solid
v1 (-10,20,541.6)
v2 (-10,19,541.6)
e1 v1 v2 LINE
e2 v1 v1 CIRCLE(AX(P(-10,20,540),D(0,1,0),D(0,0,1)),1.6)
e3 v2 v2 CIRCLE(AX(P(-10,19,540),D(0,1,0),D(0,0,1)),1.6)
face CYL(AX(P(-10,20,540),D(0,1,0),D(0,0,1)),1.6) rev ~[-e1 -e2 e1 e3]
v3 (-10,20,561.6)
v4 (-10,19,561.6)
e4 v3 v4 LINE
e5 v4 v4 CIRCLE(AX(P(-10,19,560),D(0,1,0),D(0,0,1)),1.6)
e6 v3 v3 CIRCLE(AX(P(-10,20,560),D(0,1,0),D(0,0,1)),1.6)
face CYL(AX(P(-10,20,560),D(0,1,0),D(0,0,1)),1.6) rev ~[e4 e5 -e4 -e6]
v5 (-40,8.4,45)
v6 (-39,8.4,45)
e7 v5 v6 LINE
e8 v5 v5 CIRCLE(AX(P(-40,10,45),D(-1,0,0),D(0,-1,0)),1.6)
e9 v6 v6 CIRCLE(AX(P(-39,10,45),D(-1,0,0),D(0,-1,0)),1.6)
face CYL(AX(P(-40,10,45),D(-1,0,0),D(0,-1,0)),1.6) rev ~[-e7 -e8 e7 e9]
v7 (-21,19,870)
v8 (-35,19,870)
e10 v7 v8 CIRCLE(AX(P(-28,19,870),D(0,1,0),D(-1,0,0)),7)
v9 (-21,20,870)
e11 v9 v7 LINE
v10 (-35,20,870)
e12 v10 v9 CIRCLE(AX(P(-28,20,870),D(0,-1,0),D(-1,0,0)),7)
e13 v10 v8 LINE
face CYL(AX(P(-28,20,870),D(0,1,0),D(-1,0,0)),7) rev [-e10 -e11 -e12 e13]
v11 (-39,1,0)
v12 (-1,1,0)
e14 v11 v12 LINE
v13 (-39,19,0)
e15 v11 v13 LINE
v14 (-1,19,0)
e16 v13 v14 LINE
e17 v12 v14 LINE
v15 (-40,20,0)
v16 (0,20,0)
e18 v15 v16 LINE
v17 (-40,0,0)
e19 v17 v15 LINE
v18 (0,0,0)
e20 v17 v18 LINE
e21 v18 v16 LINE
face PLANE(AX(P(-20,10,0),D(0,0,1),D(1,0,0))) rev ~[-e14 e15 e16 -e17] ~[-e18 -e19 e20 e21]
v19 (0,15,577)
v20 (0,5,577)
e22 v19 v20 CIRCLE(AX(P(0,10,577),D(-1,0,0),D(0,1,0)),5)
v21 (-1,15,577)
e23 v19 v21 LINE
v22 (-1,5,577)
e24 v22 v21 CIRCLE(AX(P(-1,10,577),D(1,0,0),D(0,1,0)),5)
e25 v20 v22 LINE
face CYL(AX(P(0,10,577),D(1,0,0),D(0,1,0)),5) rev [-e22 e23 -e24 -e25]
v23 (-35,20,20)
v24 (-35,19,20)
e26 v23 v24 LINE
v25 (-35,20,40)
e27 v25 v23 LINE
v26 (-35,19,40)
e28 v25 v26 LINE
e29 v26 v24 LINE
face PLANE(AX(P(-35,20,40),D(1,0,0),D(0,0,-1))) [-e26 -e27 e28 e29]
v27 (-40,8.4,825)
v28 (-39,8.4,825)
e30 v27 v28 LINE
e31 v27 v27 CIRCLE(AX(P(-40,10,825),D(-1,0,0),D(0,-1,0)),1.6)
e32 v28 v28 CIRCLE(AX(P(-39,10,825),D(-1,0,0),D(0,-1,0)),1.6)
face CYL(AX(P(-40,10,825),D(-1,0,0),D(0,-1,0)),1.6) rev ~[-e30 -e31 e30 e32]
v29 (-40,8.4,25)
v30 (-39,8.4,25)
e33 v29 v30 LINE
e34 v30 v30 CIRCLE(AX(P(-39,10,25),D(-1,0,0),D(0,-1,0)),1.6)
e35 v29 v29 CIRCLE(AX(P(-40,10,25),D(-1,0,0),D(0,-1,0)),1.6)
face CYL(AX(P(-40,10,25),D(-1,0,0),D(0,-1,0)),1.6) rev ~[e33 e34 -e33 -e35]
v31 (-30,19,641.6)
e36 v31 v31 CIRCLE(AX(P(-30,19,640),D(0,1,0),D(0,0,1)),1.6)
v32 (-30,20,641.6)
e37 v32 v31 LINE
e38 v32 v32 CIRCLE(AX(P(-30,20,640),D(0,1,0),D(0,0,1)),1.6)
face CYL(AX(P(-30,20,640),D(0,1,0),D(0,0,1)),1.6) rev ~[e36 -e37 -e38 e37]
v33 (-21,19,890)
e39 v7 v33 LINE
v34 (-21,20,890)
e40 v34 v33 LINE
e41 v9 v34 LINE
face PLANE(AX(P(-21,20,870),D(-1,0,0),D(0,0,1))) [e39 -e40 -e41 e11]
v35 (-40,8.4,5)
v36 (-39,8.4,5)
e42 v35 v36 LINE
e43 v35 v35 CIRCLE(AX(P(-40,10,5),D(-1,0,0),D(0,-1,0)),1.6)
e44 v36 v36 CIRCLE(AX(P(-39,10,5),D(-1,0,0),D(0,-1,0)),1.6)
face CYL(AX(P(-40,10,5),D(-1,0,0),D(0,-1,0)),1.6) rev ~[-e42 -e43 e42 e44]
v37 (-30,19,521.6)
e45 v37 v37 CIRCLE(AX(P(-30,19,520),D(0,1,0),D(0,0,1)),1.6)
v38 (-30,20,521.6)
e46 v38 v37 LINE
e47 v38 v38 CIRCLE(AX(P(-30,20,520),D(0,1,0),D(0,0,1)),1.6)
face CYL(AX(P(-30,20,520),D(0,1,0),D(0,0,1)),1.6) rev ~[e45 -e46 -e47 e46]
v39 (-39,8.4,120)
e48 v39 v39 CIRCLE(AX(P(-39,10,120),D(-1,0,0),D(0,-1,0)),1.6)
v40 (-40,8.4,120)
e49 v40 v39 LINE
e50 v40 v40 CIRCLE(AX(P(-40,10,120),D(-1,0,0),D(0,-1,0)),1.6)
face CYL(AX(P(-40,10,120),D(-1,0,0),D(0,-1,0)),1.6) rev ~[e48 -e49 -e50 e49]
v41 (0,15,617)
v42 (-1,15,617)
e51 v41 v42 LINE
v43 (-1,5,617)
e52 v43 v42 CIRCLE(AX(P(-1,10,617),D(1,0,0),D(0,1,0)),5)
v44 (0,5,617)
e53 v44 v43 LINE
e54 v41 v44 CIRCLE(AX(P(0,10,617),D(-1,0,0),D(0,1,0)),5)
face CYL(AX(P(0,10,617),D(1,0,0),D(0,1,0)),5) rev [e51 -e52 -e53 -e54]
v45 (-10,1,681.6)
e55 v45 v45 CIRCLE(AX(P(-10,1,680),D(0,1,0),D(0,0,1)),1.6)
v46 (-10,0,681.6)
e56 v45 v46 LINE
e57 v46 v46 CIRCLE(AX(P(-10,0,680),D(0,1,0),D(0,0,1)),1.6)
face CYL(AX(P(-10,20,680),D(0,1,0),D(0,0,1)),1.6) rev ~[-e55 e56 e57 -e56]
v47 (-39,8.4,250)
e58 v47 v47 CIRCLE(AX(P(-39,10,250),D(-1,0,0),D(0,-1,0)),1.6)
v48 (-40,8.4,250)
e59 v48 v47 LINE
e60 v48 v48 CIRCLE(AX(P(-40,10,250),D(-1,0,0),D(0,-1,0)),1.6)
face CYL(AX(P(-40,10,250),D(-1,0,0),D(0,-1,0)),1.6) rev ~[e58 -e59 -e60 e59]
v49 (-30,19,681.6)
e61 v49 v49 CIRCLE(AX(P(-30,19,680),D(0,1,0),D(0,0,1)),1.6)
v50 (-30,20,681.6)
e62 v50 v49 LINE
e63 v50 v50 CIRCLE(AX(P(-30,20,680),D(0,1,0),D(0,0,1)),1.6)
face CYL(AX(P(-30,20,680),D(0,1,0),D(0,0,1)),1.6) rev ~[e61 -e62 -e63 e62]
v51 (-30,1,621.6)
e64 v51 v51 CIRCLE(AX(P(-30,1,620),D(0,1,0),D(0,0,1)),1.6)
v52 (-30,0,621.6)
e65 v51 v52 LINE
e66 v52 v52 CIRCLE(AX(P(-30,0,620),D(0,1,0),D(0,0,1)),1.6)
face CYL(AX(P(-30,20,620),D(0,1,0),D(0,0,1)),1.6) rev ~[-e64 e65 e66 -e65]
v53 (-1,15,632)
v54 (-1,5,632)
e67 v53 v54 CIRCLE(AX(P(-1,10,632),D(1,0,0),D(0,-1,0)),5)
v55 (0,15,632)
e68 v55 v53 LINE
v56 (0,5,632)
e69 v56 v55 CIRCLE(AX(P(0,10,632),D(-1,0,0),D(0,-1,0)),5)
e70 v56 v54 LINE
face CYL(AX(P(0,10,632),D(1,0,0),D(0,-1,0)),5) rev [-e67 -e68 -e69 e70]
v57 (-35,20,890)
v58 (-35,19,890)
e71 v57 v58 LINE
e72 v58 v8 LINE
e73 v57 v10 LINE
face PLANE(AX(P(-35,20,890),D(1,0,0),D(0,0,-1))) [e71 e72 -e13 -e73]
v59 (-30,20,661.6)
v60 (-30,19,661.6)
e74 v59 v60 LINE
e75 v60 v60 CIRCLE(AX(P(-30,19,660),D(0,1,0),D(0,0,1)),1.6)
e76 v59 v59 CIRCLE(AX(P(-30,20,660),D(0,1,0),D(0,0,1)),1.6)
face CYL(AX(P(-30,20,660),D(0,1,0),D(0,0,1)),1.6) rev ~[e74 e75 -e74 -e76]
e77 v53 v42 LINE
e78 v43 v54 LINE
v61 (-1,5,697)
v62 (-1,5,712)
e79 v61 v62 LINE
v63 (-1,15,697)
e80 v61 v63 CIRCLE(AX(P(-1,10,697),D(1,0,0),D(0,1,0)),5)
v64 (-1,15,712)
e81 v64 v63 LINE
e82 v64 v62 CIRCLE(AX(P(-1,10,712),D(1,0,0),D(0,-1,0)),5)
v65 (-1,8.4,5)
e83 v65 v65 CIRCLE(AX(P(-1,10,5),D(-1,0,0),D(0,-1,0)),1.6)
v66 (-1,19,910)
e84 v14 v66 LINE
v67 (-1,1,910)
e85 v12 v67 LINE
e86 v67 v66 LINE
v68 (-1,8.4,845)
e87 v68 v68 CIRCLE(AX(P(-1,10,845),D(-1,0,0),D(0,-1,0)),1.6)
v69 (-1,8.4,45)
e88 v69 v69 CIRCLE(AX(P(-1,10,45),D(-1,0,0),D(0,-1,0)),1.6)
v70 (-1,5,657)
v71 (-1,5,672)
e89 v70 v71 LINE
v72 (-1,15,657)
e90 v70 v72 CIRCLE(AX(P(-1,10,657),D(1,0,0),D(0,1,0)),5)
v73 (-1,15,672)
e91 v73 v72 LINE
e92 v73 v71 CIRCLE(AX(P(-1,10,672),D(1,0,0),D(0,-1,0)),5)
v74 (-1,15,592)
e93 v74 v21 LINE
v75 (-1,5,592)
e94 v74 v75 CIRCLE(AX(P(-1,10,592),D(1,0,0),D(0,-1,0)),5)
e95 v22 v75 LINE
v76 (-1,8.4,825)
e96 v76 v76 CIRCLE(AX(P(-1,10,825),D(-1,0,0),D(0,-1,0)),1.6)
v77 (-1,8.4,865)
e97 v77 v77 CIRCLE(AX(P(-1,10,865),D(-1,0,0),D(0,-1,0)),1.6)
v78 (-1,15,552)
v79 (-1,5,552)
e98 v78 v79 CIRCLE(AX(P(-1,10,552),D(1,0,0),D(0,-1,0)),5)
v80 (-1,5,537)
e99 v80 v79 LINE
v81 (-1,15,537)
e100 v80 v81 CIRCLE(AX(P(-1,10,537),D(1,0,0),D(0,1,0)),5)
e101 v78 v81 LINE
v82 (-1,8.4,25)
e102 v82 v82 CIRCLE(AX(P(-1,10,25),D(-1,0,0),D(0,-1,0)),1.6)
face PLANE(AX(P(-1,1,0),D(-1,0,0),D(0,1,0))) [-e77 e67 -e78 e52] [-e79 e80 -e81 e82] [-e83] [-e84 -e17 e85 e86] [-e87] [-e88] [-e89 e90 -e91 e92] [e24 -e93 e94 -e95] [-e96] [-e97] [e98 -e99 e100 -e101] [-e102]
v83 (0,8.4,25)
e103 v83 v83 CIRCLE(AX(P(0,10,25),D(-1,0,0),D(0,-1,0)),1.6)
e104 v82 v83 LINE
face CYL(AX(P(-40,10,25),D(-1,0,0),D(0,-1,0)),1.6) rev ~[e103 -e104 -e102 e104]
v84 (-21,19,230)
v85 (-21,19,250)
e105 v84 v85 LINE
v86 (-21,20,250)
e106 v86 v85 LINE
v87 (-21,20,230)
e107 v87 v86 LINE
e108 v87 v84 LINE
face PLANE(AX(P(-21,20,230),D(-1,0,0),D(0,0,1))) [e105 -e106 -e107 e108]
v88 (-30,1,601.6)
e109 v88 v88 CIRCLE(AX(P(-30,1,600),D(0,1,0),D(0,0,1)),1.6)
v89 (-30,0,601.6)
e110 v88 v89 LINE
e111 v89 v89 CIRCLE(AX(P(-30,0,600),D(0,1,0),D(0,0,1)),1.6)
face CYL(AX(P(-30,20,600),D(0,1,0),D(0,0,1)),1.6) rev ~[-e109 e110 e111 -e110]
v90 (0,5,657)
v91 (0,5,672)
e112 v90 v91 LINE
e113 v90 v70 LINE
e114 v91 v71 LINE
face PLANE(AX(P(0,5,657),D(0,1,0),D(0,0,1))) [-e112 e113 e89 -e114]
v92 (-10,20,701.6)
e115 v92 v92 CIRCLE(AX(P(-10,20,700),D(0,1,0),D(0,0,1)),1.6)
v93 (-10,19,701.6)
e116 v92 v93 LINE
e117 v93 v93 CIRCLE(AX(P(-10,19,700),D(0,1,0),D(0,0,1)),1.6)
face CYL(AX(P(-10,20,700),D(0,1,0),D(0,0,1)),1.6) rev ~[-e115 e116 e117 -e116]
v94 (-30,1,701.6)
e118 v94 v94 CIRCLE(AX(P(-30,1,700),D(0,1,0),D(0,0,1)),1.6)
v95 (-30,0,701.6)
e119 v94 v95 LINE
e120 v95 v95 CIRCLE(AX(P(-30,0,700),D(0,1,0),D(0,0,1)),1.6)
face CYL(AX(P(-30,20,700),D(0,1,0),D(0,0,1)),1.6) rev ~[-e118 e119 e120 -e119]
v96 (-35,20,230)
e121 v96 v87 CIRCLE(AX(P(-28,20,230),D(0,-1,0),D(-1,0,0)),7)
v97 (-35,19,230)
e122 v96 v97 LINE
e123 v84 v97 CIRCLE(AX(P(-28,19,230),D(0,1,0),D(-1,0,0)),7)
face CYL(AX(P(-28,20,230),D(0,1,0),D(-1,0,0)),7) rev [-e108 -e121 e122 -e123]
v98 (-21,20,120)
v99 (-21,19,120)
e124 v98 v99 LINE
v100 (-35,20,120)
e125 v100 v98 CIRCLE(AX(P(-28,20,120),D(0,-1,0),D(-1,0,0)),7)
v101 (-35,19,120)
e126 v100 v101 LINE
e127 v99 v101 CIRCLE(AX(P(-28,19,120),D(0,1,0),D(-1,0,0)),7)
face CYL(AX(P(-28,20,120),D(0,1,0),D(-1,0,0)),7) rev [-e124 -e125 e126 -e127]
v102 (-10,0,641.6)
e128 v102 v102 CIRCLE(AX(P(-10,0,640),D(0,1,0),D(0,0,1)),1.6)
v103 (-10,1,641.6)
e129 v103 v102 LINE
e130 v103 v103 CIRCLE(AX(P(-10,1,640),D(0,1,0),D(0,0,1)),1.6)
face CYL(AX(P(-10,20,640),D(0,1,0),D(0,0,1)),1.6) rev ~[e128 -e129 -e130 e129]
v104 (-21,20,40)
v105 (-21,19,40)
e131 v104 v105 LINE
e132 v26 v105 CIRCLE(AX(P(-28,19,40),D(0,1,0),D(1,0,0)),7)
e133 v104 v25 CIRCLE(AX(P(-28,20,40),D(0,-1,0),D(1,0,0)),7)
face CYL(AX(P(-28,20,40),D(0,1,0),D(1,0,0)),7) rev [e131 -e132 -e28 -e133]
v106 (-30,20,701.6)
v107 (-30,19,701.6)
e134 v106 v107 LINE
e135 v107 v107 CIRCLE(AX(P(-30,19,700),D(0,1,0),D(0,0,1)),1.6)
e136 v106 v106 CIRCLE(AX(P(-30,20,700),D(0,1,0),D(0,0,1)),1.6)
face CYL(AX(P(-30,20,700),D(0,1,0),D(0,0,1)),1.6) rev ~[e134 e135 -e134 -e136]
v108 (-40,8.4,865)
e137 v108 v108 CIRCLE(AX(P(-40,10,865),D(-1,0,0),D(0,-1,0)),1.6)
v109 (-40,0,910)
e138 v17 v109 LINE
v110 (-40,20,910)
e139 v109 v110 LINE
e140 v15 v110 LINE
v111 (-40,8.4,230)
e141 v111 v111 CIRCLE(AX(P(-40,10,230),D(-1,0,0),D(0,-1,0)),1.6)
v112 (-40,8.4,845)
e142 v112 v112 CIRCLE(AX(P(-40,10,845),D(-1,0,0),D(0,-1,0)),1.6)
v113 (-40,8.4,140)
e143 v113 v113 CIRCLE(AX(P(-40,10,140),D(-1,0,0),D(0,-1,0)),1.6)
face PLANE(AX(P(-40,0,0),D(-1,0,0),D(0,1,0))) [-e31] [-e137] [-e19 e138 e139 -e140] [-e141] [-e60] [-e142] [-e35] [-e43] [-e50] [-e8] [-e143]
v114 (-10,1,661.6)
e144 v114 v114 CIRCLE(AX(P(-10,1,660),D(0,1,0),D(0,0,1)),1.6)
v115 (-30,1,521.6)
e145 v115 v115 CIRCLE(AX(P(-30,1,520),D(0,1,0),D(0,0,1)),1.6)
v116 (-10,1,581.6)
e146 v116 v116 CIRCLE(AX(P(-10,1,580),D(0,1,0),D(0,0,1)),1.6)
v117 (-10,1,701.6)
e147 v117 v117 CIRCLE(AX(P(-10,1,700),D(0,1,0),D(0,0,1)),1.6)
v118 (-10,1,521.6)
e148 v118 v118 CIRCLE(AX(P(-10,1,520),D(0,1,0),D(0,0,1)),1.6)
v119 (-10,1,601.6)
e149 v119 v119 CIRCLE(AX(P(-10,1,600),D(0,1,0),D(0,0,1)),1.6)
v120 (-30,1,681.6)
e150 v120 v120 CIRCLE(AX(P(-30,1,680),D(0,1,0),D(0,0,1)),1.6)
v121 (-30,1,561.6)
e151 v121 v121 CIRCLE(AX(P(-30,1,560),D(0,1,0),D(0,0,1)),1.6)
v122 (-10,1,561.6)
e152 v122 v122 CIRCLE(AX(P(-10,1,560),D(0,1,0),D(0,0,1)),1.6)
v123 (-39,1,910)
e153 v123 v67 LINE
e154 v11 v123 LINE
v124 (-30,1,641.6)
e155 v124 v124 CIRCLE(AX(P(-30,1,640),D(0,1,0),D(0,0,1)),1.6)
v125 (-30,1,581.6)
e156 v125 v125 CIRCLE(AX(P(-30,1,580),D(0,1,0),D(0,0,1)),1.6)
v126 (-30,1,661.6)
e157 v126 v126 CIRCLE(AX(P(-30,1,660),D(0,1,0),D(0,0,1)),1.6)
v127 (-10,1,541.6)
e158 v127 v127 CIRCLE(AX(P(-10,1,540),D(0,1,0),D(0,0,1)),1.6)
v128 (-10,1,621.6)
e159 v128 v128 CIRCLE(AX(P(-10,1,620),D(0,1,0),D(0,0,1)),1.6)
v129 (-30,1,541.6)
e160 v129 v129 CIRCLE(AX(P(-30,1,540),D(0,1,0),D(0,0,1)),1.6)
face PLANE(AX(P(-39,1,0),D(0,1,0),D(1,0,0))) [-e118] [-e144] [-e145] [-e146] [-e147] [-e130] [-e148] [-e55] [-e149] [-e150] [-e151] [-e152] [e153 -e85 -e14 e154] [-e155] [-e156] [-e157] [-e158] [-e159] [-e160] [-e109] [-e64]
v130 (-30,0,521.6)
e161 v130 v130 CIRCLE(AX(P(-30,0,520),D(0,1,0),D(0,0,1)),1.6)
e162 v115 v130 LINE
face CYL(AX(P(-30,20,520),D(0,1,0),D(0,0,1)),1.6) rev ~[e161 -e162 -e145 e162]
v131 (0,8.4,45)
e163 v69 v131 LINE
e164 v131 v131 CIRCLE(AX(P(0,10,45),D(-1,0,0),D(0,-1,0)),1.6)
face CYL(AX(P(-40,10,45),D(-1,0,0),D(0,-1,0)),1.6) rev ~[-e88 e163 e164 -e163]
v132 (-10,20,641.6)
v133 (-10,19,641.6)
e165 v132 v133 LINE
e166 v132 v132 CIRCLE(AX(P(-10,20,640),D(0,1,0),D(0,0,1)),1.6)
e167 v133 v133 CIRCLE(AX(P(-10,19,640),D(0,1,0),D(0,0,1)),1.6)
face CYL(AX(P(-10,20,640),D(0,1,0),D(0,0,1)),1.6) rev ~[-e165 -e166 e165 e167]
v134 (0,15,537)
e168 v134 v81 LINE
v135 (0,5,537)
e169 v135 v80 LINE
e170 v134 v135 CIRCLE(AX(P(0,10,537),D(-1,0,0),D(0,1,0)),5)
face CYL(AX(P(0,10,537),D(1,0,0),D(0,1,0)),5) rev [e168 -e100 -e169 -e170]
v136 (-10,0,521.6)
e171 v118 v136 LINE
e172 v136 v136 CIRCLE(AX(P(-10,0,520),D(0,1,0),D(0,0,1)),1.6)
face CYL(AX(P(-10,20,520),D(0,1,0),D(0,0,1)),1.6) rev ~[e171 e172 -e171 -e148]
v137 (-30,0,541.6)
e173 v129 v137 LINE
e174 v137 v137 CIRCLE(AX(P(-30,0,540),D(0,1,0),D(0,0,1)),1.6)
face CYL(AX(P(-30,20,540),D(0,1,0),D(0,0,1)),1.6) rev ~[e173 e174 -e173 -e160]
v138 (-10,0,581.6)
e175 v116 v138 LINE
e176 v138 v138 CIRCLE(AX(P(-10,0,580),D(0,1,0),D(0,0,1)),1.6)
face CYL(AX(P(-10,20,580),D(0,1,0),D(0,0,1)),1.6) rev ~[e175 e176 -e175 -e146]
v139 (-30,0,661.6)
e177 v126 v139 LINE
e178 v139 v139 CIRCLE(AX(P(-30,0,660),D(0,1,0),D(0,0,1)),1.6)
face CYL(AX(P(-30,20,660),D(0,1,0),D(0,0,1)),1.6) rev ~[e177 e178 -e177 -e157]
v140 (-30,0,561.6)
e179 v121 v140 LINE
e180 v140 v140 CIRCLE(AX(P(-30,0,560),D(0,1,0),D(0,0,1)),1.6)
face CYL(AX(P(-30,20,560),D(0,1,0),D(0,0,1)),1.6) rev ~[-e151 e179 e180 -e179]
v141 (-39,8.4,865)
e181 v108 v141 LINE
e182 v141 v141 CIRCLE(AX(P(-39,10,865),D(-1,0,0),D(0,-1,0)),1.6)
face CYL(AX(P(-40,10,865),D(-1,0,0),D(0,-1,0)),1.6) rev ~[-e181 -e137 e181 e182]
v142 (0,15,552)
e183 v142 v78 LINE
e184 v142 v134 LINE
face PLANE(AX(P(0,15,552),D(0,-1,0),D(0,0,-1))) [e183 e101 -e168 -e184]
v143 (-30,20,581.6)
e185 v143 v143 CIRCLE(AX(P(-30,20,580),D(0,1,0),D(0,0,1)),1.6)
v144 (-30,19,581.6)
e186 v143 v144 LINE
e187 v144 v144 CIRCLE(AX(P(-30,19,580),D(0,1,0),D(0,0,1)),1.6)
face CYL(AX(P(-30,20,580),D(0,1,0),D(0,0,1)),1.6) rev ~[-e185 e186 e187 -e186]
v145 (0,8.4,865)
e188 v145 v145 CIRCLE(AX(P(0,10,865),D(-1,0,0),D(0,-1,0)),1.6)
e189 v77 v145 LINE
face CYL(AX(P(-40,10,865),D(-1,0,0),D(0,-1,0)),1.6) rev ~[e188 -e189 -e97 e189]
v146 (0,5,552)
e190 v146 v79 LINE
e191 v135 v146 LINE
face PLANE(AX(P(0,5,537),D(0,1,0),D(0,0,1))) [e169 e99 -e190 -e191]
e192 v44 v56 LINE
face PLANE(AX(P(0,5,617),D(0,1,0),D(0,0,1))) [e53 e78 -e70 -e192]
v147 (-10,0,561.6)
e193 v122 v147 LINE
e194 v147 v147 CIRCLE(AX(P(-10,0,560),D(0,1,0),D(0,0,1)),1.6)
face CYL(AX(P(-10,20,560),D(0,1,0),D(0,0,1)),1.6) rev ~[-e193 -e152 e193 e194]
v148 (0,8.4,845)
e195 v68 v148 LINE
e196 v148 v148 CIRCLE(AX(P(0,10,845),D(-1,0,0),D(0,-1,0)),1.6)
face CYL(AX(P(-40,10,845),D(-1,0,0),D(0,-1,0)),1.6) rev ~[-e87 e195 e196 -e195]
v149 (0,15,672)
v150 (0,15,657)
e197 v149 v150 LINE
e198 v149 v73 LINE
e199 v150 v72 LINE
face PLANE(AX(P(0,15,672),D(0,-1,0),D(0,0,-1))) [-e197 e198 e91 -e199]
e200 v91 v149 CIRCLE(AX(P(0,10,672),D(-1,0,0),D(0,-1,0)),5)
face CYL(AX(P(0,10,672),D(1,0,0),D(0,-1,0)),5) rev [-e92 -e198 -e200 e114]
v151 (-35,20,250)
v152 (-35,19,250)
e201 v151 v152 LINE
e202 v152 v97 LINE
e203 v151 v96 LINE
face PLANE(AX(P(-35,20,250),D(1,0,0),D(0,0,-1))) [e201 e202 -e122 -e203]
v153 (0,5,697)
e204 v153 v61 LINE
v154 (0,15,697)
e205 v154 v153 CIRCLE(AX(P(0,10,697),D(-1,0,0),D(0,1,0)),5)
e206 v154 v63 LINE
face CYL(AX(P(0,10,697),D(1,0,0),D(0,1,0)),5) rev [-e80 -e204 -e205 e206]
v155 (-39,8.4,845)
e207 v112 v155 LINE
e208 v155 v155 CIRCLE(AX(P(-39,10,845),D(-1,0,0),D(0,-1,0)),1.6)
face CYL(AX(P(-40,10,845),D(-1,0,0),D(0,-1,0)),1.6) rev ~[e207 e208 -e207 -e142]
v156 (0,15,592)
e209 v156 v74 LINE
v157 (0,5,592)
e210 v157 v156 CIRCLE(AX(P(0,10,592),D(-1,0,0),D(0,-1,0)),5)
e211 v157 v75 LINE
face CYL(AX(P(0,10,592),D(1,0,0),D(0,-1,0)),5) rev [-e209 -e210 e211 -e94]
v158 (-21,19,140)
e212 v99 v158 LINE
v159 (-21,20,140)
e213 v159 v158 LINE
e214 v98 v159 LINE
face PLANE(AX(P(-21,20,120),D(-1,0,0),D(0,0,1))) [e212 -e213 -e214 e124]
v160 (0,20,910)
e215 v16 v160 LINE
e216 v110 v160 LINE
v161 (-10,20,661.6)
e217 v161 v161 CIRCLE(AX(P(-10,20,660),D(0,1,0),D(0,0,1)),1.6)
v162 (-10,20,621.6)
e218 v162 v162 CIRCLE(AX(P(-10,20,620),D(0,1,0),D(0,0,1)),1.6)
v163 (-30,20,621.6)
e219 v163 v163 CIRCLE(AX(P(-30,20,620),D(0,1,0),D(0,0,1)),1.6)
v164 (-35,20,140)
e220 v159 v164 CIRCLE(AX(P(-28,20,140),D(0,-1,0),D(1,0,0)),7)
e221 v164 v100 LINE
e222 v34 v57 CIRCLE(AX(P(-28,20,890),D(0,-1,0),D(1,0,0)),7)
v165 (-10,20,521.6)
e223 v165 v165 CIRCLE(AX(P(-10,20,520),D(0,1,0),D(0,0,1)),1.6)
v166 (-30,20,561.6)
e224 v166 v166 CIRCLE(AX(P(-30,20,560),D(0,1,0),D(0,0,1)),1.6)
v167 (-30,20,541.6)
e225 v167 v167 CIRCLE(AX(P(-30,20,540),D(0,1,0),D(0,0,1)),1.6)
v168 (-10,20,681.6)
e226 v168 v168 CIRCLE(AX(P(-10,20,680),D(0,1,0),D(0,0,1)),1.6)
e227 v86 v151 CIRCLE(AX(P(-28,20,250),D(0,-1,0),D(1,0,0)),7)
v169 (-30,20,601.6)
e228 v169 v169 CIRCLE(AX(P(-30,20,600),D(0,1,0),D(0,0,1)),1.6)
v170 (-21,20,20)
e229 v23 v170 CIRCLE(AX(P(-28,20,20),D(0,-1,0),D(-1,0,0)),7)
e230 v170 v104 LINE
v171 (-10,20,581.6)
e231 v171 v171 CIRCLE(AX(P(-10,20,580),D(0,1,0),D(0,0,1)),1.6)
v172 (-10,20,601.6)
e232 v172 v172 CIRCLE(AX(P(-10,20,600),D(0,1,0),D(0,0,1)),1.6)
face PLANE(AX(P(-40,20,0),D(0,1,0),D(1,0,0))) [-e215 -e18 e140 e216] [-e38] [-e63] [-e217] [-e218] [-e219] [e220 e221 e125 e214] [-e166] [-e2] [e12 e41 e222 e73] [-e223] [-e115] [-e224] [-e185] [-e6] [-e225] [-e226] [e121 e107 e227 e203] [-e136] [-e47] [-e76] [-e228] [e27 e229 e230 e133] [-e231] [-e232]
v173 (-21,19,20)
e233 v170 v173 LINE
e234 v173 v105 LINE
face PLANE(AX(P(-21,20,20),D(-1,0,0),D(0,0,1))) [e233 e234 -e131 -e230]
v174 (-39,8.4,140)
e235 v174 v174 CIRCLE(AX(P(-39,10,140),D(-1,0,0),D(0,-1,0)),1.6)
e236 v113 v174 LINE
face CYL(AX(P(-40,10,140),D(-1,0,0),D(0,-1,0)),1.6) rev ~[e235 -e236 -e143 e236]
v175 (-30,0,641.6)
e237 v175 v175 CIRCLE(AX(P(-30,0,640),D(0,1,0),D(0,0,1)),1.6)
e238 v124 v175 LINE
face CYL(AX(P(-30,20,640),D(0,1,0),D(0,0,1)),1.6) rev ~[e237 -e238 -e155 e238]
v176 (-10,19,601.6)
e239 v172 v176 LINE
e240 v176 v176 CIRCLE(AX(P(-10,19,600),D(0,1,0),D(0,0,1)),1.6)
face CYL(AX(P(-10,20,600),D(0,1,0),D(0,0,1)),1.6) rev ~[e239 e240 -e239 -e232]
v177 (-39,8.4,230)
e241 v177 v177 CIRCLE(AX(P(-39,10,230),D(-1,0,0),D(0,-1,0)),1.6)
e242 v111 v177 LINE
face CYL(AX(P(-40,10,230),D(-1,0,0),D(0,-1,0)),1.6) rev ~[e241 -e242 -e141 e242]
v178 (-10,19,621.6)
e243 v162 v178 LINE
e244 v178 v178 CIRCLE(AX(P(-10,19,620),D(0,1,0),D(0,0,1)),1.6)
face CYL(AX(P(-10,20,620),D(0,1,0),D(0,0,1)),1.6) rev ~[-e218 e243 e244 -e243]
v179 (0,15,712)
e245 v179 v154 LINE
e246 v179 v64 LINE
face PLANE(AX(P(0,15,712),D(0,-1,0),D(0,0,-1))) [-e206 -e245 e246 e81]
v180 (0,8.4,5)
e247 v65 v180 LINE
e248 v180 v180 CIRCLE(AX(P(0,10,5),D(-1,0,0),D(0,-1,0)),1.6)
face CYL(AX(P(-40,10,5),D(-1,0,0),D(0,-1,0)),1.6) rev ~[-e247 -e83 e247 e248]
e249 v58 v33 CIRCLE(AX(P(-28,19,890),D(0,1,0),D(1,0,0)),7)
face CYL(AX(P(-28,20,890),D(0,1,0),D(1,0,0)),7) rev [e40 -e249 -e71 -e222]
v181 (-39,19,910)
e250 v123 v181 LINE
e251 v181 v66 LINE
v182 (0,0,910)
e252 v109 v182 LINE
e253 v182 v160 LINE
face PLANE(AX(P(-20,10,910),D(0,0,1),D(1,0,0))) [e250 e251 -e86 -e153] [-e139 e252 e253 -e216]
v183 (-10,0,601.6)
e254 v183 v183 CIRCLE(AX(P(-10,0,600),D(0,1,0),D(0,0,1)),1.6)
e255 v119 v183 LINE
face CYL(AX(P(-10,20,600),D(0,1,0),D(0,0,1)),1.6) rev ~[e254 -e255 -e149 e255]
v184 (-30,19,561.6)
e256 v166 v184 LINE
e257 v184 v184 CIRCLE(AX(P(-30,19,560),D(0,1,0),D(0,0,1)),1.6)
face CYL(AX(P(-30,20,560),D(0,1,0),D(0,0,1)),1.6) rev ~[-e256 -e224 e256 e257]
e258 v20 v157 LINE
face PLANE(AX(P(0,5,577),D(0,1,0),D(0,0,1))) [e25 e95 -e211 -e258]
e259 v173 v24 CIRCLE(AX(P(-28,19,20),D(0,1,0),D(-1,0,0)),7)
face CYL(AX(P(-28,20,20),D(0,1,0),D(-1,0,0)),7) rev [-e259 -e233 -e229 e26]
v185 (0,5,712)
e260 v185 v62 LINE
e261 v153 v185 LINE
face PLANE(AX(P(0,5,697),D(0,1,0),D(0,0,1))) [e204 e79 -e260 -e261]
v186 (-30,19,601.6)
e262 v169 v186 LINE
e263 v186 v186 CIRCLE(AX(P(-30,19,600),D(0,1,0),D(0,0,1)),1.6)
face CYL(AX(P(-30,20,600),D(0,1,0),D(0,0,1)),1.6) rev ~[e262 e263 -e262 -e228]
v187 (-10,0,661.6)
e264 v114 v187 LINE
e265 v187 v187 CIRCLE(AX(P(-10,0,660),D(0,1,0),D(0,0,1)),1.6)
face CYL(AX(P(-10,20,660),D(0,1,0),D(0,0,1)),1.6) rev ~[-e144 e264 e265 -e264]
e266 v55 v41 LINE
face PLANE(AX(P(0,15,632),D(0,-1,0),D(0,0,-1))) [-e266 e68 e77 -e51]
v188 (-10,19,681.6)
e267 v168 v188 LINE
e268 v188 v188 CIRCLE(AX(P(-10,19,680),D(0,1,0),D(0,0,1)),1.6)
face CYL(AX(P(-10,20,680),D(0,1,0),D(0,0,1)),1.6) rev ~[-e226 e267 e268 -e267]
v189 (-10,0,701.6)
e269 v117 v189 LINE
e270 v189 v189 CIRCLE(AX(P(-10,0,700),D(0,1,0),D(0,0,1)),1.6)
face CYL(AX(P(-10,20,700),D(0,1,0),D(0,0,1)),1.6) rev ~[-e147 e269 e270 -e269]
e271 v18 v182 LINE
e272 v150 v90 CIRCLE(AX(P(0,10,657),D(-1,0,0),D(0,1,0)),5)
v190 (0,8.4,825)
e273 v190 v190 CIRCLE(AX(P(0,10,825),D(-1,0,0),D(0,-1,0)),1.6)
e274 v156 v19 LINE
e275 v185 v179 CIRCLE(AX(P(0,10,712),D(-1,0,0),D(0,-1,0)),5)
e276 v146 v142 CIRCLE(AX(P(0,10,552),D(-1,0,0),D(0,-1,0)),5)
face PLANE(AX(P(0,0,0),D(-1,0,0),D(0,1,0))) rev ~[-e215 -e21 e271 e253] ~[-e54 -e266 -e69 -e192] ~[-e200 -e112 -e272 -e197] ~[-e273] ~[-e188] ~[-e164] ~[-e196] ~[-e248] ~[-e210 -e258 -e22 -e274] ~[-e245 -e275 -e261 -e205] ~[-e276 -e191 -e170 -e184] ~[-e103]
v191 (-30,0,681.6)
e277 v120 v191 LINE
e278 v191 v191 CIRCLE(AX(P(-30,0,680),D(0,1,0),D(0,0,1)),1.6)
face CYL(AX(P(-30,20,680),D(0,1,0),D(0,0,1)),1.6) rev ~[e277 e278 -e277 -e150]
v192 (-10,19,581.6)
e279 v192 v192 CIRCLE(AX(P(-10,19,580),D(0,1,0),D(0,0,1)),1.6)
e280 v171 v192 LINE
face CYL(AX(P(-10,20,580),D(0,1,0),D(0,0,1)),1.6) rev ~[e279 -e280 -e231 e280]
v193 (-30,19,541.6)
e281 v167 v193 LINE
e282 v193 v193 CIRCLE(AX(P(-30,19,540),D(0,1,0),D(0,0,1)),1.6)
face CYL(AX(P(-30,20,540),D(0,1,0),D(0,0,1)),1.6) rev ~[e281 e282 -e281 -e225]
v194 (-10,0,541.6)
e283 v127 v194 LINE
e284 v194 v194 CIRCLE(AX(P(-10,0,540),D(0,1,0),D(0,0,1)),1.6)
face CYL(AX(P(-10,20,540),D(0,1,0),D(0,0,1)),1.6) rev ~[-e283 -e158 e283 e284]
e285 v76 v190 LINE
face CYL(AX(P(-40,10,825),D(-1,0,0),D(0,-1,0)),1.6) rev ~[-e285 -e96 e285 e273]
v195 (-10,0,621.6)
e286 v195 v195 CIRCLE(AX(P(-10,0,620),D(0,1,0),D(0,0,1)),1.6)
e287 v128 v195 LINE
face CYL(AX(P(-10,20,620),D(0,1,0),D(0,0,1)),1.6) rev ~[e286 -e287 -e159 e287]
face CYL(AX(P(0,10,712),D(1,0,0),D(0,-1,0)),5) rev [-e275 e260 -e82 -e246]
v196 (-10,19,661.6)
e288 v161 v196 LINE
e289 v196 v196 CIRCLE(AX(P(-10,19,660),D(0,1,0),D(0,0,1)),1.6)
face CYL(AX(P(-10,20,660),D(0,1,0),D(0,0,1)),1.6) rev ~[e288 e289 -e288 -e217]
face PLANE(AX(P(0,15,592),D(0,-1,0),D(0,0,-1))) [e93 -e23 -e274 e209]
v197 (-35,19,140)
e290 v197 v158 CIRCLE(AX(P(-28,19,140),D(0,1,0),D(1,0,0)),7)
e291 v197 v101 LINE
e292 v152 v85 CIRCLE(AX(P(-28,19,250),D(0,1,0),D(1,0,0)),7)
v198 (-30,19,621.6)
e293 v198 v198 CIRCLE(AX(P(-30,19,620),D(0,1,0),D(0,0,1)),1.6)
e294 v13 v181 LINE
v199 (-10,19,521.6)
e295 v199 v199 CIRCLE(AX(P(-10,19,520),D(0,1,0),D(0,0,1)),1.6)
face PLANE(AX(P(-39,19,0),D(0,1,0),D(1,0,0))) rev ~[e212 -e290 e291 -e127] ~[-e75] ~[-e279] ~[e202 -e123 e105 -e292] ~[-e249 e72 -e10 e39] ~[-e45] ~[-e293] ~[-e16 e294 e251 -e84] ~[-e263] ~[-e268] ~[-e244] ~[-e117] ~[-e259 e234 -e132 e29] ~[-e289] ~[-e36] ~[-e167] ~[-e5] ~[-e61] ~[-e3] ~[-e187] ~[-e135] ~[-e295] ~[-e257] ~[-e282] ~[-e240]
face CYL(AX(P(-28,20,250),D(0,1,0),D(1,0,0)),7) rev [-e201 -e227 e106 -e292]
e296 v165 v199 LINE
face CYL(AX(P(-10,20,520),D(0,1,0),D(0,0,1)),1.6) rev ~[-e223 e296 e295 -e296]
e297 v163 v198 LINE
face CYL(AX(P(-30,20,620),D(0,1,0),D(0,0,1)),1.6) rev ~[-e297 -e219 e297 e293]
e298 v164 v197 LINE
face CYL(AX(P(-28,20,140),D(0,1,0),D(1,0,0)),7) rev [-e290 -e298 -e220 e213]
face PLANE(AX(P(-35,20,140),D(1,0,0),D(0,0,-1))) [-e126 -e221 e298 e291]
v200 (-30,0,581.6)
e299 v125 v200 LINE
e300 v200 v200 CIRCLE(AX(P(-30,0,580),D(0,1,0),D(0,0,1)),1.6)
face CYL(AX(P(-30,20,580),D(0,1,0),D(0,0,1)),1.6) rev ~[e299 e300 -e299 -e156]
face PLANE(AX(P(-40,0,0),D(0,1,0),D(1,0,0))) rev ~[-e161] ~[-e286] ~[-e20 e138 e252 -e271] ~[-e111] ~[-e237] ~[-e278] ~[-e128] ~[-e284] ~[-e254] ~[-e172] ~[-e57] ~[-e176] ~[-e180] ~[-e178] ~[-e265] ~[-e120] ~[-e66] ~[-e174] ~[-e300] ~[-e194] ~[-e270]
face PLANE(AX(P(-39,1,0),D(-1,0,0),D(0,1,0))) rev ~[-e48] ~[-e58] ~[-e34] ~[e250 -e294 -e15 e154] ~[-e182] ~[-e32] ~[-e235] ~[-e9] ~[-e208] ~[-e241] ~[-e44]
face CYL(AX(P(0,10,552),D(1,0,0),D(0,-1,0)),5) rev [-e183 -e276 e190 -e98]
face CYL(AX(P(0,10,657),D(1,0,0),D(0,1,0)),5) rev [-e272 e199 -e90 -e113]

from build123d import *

# Parameters (mm, degrees)
SKETCH_1_W          = 40
SKETCH_1_H          = 20
SKETCH_1_W_2        = 38
SKETCH_1_H_2        = 18
EXTRUDE_1_DEPTH     = 910
SKETCH_2_R          = 1.6
CUT_EXTRUDE_1_DEPTH = 70
SKETCH_3_R          = 1.6
CUT_EXTRUDE_2_DEPTH = 10
CUT_EXTRUDE_4_DEPTH = 10
SKETCH_6_R          = 1.6
CUT_EXTRUDE_5_DEPTH = 912.098238391
CUT_EXTRUDE_6_REACH = 913.098


with BuildPart() as part:
    # 草图1 → 拉伸-薄壁1 (new body)
    with BuildSketch(Plane.XY):
        with Locations((-20, 10)):
            Rectangle(SKETCH_1_W, SKETCH_1_H)
        with Locations((-20, 10)):
            Rectangle(SKETCH_1_W_2, SKETCH_1_H_2, mode=Mode.SUBTRACT)
    extrude(amount=EXTRUDE_1_DEPTH)

    # 草图2 → 切除-拉伸1 (cut)
    with BuildSketch(Plane.ZY.offset(40)):
        with Locations(Location((865, 10, 0), (0, 0, 270))):
            Circle(SKETCH_2_R)
        with Locations(Location((845, 10, 0), (0, 0, 270))):
            Circle(SKETCH_2_R)
        with Locations(Location((825, 10, 0), (0, 0, 270))):
            Circle(SKETCH_2_R)
        with Locations(Location((45, 10, 0), (0, 0, 270))):
            Circle(SKETCH_2_R)
        with Locations(Location((25, 10, 0), (0, 0, 270))):
            Circle(SKETCH_2_R)
        with Locations(Location((5, 10, 0), (0, 0, 270))):
            Circle(SKETCH_2_R)
    extrude(amount=-CUT_EXTRUDE_1_DEPTH, mode=Mode.SUBTRACT)

    # 草图3 → 切除-拉伸2 (cut)
    with BuildSketch(Plane.ZY.offset(40)):
        with Locations(Location((120, 10, 0), (0, 0, 270))):
            Circle(SKETCH_3_R)
        with Locations(Location((140, 10, 0), (0, 0, 270))):
            Circle(SKETCH_3_R)
        with Locations(Location((230, 10, 0), (0, 0, 270))):
            Circle(SKETCH_3_R)
        with Locations(Location((250, 10, 0), (0, 0, 270))):
            Circle(SKETCH_3_R)
    extrude(amount=-CUT_EXTRUDE_2_DEPTH, mode=Mode.SUBTRACT)

    # 草图5 → 切除-拉伸4 (cut)
    with BuildSketch(Plane(origin=(0, 20, 0), x_dir=(1, 0, 0), z_dir=(0, 1, 0))):
        with BuildLine():
            Line((-21, -120), (-21, -140))
            ThreePointArc((-21, -140), (-28, -147), (-35, -140))
            Line((-35, -140), (-35, -120))
            ThreePointArc((-35, -120), (-28, -113), (-21, -120))
        make_face()
        with BuildLine():
            Line((-21, -230), (-21, -250))
            ThreePointArc((-21, -250), (-28, -257), (-35, -250))
            Line((-35, -250), (-35, -230))
            ThreePointArc((-35, -230), (-28, -223), (-21, -230))
        make_face()
        with BuildLine():
            Line((-21, -20), (-21, -40))
            ThreePointArc((-21, -40), (-28, -47), (-35, -40))
            Line((-35, -40), (-35, -20))
            ThreePointArc((-35, -20), (-28, -13), (-21, -20))
        make_face()
        with BuildLine():
            Line((-21, -870), (-21, -890))
            ThreePointArc((-21, -890), (-28, -897), (-35, -890))
            Line((-35, -890), (-35, -870))
            ThreePointArc((-35, -870), (-28, -863), (-21, -870))
        make_face()
    extrude(amount=-CUT_EXTRUDE_4_DEPTH, mode=Mode.SUBTRACT)

    # 草图6 → 切除-拉伸5 (cut, through all)
    with BuildSketch(Plane(origin=(0, 20, 0), x_dir=(1, 0, 0), z_dir=(0, 1, 0))):
        with Locations(Location((-30, -700, 0), (0, 0, 270))):
            Circle(SKETCH_6_R)
        with Locations(Location((-10, -700, 0), (0, 0, 270))):
            Circle(SKETCH_6_R)
        with Locations(Location((-10, -680, 0), (0, 0, 270))):
            Circle(SKETCH_6_R)
        with Locations(Location((-10, -660, 0), (0, 0, 270))):
            Circle(SKETCH_6_R)
        with Locations(Location((-10, -640, 0), (0, 0, 270))):
            Circle(SKETCH_6_R)
        with Locations(Location((-10, -620, 0), (0, 0, 270))):
            Circle(SKETCH_6_R)
        with Locations(Location((-10, -600, 0), (0, 0, 270))):
            Circle(SKETCH_6_R)
        with Locations(Location((-10, -580, 0), (0, 0, 270))):
            Circle(SKETCH_6_R)
        with Locations(Location((-10, -560, 0), (0, 0, 270))):
            Circle(SKETCH_6_R)
        with Locations(Location((-10, -540, 0), (0, 0, 270))):
            Circle(SKETCH_6_R)
        with Locations(Location((-10, -520, 0), (0, 0, 270))):
            Circle(SKETCH_6_R)
        with Locations(Location((-30, -680, 0), (0, 0, 270))):
            Circle(SKETCH_6_R)
        with Locations(Location((-30, -660, 0), (0, 0, 270))):
            Circle(SKETCH_6_R)
        with Locations(Location((-30, -640, 0), (0, 0, 270))):
            Circle(SKETCH_6_R)
        with Locations(Location((-30, -620, 0), (0, 0, 270))):
            Circle(SKETCH_6_R)
        with Locations(Location((-30, -600, 0), (0, 0, 270))):
            Circle(SKETCH_6_R)
        with Locations(Location((-30, -580, 0), (0, 0, 270))):
            Circle(SKETCH_6_R)
        with Locations(Location((-30, -560, 0), (0, 0, 270))):
            Circle(SKETCH_6_R)
        with Locations(Location((-30, -540, 0), (0, 0, 270))):
            Circle(SKETCH_6_R)
        with Locations(Location((-30, -520, 0), (0, 0, 270))):
            Circle(SKETCH_6_R)
    extrude(amount=-CUT_EXTRUDE_5_DEPTH, mode=Mode.SUBTRACT)

    # 草图7 → 切除-拉伸6 (cut, up to next)
    with BuildSketch(Plane(origin=(0, 0, 0), x_dir=(0, 0, -1), z_dir=(1, 0, 0)), mode=Mode.PRIVATE) as cut_extrude_6_sk1:
        with BuildLine():
            Line((-712, 15), (-697, 15))
            ThreePointArc((-697, 15), (-692, 10), (-697, 5))
            Line((-697, 5), (-712, 5))
            ThreePointArc((-712, 5), (-717, 10), (-712, 15))
        make_face()
    cut_extrude_6_tool1 = extrude(cut_extrude_6_sk1.sketch, amount=-CUT_EXTRUDE_6_REACH, mode=Mode.PRIVATE) & part.part
    # 草图7 → 切除-拉伸6 (cut, up to next)
    with BuildSketch(Plane(origin=(0, 0, 0), x_dir=(0, 0, -1), z_dir=(1, 0, 0)), mode=Mode.PRIVATE) as cut_extrude_6_sk2:
        with BuildLine():
            Line((-672, 15), (-657, 15))
            ThreePointArc((-657, 15), (-652, 10), (-657, 5))
            Line((-657, 5), (-672, 5))
            ThreePointArc((-672, 5), (-677, 10), (-672, 15))
        make_face()
    cut_extrude_6_tool2 = extrude(cut_extrude_6_sk2.sketch, amount=-CUT_EXTRUDE_6_REACH, mode=Mode.PRIVATE) & part.part
    # 草图7 → 切除-拉伸6 (cut, up to next)
    with BuildSketch(Plane(origin=(0, 0, 0), x_dir=(0, 0, -1), z_dir=(1, 0, 0)), mode=Mode.PRIVATE) as cut_extrude_6_sk3:
        with BuildLine():
            Line((-632, 15), (-617, 15))
            ThreePointArc((-617, 15), (-612, 10), (-617, 5))
            Line((-617, 5), (-632, 5))
            ThreePointArc((-632, 5), (-637, 10), (-632, 15))
        make_face()
    cut_extrude_6_tool3 = extrude(cut_extrude_6_sk3.sketch, amount=-CUT_EXTRUDE_6_REACH, mode=Mode.PRIVATE) & part.part
    # 草图7 → 切除-拉伸6 (cut, up to next)
    with BuildSketch(Plane(origin=(0, 0, 0), x_dir=(0, 0, -1), z_dir=(1, 0, 0)), mode=Mode.PRIVATE) as cut_extrude_6_sk4:
        with BuildLine():
            Line((-592, 15), (-577, 15))
            ThreePointArc((-577, 15), (-572, 10), (-577, 5))
            Line((-577, 5), (-592, 5))
            ThreePointArc((-592, 5), (-597, 10), (-592, 15))
        make_face()
    cut_extrude_6_tool4 = extrude(cut_extrude_6_sk4.sketch, amount=-CUT_EXTRUDE_6_REACH, mode=Mode.PRIVATE) & part.part
    # 草图7 → 切除-拉伸6 (cut, up to next)
    with BuildSketch(Plane(origin=(0, 0, 0), x_dir=(0, 0, -1), z_dir=(1, 0, 0)), mode=Mode.PRIVATE) as cut_extrude_6_sk5:
        with BuildLine():
            Line((-552, 15), (-537, 15))
            ThreePointArc((-537, 15), (-532, 10), (-537, 5))
            Line((-537, 5), (-552, 5))
            ThreePointArc((-552, 5), (-557, 10), (-552, 15))
        make_face()
    cut_extrude_6_tool5 = extrude(cut_extrude_6_sk5.sketch, amount=-CUT_EXTRUDE_6_REACH, mode=Mode.PRIVATE) & part.part
    add(cut_extrude_6_tool1.solids().sort_by_distance((0, 10, 704.5))[0], mode=Mode.SUBTRACT)
    add(cut_extrude_6_tool2.solids().sort_by_distance((0, 10, 664.5))[0], mode=Mode.SUBTRACT)
    add(cut_extrude_6_tool3.solids().sort_by_distance((0, 10, 624.5))[0], mode=Mode.SUBTRACT)
    add(cut_extrude_6_tool4.solids().sort_by_distance((0, 10, 584.5))[0], mode=Mode.SUBTRACT)
    add(cut_extrude_6_tool5.solids().sort_by_distance((0, 10, 544.5))[0], mode=Mode.SUBTRACT)


solid = part.part
